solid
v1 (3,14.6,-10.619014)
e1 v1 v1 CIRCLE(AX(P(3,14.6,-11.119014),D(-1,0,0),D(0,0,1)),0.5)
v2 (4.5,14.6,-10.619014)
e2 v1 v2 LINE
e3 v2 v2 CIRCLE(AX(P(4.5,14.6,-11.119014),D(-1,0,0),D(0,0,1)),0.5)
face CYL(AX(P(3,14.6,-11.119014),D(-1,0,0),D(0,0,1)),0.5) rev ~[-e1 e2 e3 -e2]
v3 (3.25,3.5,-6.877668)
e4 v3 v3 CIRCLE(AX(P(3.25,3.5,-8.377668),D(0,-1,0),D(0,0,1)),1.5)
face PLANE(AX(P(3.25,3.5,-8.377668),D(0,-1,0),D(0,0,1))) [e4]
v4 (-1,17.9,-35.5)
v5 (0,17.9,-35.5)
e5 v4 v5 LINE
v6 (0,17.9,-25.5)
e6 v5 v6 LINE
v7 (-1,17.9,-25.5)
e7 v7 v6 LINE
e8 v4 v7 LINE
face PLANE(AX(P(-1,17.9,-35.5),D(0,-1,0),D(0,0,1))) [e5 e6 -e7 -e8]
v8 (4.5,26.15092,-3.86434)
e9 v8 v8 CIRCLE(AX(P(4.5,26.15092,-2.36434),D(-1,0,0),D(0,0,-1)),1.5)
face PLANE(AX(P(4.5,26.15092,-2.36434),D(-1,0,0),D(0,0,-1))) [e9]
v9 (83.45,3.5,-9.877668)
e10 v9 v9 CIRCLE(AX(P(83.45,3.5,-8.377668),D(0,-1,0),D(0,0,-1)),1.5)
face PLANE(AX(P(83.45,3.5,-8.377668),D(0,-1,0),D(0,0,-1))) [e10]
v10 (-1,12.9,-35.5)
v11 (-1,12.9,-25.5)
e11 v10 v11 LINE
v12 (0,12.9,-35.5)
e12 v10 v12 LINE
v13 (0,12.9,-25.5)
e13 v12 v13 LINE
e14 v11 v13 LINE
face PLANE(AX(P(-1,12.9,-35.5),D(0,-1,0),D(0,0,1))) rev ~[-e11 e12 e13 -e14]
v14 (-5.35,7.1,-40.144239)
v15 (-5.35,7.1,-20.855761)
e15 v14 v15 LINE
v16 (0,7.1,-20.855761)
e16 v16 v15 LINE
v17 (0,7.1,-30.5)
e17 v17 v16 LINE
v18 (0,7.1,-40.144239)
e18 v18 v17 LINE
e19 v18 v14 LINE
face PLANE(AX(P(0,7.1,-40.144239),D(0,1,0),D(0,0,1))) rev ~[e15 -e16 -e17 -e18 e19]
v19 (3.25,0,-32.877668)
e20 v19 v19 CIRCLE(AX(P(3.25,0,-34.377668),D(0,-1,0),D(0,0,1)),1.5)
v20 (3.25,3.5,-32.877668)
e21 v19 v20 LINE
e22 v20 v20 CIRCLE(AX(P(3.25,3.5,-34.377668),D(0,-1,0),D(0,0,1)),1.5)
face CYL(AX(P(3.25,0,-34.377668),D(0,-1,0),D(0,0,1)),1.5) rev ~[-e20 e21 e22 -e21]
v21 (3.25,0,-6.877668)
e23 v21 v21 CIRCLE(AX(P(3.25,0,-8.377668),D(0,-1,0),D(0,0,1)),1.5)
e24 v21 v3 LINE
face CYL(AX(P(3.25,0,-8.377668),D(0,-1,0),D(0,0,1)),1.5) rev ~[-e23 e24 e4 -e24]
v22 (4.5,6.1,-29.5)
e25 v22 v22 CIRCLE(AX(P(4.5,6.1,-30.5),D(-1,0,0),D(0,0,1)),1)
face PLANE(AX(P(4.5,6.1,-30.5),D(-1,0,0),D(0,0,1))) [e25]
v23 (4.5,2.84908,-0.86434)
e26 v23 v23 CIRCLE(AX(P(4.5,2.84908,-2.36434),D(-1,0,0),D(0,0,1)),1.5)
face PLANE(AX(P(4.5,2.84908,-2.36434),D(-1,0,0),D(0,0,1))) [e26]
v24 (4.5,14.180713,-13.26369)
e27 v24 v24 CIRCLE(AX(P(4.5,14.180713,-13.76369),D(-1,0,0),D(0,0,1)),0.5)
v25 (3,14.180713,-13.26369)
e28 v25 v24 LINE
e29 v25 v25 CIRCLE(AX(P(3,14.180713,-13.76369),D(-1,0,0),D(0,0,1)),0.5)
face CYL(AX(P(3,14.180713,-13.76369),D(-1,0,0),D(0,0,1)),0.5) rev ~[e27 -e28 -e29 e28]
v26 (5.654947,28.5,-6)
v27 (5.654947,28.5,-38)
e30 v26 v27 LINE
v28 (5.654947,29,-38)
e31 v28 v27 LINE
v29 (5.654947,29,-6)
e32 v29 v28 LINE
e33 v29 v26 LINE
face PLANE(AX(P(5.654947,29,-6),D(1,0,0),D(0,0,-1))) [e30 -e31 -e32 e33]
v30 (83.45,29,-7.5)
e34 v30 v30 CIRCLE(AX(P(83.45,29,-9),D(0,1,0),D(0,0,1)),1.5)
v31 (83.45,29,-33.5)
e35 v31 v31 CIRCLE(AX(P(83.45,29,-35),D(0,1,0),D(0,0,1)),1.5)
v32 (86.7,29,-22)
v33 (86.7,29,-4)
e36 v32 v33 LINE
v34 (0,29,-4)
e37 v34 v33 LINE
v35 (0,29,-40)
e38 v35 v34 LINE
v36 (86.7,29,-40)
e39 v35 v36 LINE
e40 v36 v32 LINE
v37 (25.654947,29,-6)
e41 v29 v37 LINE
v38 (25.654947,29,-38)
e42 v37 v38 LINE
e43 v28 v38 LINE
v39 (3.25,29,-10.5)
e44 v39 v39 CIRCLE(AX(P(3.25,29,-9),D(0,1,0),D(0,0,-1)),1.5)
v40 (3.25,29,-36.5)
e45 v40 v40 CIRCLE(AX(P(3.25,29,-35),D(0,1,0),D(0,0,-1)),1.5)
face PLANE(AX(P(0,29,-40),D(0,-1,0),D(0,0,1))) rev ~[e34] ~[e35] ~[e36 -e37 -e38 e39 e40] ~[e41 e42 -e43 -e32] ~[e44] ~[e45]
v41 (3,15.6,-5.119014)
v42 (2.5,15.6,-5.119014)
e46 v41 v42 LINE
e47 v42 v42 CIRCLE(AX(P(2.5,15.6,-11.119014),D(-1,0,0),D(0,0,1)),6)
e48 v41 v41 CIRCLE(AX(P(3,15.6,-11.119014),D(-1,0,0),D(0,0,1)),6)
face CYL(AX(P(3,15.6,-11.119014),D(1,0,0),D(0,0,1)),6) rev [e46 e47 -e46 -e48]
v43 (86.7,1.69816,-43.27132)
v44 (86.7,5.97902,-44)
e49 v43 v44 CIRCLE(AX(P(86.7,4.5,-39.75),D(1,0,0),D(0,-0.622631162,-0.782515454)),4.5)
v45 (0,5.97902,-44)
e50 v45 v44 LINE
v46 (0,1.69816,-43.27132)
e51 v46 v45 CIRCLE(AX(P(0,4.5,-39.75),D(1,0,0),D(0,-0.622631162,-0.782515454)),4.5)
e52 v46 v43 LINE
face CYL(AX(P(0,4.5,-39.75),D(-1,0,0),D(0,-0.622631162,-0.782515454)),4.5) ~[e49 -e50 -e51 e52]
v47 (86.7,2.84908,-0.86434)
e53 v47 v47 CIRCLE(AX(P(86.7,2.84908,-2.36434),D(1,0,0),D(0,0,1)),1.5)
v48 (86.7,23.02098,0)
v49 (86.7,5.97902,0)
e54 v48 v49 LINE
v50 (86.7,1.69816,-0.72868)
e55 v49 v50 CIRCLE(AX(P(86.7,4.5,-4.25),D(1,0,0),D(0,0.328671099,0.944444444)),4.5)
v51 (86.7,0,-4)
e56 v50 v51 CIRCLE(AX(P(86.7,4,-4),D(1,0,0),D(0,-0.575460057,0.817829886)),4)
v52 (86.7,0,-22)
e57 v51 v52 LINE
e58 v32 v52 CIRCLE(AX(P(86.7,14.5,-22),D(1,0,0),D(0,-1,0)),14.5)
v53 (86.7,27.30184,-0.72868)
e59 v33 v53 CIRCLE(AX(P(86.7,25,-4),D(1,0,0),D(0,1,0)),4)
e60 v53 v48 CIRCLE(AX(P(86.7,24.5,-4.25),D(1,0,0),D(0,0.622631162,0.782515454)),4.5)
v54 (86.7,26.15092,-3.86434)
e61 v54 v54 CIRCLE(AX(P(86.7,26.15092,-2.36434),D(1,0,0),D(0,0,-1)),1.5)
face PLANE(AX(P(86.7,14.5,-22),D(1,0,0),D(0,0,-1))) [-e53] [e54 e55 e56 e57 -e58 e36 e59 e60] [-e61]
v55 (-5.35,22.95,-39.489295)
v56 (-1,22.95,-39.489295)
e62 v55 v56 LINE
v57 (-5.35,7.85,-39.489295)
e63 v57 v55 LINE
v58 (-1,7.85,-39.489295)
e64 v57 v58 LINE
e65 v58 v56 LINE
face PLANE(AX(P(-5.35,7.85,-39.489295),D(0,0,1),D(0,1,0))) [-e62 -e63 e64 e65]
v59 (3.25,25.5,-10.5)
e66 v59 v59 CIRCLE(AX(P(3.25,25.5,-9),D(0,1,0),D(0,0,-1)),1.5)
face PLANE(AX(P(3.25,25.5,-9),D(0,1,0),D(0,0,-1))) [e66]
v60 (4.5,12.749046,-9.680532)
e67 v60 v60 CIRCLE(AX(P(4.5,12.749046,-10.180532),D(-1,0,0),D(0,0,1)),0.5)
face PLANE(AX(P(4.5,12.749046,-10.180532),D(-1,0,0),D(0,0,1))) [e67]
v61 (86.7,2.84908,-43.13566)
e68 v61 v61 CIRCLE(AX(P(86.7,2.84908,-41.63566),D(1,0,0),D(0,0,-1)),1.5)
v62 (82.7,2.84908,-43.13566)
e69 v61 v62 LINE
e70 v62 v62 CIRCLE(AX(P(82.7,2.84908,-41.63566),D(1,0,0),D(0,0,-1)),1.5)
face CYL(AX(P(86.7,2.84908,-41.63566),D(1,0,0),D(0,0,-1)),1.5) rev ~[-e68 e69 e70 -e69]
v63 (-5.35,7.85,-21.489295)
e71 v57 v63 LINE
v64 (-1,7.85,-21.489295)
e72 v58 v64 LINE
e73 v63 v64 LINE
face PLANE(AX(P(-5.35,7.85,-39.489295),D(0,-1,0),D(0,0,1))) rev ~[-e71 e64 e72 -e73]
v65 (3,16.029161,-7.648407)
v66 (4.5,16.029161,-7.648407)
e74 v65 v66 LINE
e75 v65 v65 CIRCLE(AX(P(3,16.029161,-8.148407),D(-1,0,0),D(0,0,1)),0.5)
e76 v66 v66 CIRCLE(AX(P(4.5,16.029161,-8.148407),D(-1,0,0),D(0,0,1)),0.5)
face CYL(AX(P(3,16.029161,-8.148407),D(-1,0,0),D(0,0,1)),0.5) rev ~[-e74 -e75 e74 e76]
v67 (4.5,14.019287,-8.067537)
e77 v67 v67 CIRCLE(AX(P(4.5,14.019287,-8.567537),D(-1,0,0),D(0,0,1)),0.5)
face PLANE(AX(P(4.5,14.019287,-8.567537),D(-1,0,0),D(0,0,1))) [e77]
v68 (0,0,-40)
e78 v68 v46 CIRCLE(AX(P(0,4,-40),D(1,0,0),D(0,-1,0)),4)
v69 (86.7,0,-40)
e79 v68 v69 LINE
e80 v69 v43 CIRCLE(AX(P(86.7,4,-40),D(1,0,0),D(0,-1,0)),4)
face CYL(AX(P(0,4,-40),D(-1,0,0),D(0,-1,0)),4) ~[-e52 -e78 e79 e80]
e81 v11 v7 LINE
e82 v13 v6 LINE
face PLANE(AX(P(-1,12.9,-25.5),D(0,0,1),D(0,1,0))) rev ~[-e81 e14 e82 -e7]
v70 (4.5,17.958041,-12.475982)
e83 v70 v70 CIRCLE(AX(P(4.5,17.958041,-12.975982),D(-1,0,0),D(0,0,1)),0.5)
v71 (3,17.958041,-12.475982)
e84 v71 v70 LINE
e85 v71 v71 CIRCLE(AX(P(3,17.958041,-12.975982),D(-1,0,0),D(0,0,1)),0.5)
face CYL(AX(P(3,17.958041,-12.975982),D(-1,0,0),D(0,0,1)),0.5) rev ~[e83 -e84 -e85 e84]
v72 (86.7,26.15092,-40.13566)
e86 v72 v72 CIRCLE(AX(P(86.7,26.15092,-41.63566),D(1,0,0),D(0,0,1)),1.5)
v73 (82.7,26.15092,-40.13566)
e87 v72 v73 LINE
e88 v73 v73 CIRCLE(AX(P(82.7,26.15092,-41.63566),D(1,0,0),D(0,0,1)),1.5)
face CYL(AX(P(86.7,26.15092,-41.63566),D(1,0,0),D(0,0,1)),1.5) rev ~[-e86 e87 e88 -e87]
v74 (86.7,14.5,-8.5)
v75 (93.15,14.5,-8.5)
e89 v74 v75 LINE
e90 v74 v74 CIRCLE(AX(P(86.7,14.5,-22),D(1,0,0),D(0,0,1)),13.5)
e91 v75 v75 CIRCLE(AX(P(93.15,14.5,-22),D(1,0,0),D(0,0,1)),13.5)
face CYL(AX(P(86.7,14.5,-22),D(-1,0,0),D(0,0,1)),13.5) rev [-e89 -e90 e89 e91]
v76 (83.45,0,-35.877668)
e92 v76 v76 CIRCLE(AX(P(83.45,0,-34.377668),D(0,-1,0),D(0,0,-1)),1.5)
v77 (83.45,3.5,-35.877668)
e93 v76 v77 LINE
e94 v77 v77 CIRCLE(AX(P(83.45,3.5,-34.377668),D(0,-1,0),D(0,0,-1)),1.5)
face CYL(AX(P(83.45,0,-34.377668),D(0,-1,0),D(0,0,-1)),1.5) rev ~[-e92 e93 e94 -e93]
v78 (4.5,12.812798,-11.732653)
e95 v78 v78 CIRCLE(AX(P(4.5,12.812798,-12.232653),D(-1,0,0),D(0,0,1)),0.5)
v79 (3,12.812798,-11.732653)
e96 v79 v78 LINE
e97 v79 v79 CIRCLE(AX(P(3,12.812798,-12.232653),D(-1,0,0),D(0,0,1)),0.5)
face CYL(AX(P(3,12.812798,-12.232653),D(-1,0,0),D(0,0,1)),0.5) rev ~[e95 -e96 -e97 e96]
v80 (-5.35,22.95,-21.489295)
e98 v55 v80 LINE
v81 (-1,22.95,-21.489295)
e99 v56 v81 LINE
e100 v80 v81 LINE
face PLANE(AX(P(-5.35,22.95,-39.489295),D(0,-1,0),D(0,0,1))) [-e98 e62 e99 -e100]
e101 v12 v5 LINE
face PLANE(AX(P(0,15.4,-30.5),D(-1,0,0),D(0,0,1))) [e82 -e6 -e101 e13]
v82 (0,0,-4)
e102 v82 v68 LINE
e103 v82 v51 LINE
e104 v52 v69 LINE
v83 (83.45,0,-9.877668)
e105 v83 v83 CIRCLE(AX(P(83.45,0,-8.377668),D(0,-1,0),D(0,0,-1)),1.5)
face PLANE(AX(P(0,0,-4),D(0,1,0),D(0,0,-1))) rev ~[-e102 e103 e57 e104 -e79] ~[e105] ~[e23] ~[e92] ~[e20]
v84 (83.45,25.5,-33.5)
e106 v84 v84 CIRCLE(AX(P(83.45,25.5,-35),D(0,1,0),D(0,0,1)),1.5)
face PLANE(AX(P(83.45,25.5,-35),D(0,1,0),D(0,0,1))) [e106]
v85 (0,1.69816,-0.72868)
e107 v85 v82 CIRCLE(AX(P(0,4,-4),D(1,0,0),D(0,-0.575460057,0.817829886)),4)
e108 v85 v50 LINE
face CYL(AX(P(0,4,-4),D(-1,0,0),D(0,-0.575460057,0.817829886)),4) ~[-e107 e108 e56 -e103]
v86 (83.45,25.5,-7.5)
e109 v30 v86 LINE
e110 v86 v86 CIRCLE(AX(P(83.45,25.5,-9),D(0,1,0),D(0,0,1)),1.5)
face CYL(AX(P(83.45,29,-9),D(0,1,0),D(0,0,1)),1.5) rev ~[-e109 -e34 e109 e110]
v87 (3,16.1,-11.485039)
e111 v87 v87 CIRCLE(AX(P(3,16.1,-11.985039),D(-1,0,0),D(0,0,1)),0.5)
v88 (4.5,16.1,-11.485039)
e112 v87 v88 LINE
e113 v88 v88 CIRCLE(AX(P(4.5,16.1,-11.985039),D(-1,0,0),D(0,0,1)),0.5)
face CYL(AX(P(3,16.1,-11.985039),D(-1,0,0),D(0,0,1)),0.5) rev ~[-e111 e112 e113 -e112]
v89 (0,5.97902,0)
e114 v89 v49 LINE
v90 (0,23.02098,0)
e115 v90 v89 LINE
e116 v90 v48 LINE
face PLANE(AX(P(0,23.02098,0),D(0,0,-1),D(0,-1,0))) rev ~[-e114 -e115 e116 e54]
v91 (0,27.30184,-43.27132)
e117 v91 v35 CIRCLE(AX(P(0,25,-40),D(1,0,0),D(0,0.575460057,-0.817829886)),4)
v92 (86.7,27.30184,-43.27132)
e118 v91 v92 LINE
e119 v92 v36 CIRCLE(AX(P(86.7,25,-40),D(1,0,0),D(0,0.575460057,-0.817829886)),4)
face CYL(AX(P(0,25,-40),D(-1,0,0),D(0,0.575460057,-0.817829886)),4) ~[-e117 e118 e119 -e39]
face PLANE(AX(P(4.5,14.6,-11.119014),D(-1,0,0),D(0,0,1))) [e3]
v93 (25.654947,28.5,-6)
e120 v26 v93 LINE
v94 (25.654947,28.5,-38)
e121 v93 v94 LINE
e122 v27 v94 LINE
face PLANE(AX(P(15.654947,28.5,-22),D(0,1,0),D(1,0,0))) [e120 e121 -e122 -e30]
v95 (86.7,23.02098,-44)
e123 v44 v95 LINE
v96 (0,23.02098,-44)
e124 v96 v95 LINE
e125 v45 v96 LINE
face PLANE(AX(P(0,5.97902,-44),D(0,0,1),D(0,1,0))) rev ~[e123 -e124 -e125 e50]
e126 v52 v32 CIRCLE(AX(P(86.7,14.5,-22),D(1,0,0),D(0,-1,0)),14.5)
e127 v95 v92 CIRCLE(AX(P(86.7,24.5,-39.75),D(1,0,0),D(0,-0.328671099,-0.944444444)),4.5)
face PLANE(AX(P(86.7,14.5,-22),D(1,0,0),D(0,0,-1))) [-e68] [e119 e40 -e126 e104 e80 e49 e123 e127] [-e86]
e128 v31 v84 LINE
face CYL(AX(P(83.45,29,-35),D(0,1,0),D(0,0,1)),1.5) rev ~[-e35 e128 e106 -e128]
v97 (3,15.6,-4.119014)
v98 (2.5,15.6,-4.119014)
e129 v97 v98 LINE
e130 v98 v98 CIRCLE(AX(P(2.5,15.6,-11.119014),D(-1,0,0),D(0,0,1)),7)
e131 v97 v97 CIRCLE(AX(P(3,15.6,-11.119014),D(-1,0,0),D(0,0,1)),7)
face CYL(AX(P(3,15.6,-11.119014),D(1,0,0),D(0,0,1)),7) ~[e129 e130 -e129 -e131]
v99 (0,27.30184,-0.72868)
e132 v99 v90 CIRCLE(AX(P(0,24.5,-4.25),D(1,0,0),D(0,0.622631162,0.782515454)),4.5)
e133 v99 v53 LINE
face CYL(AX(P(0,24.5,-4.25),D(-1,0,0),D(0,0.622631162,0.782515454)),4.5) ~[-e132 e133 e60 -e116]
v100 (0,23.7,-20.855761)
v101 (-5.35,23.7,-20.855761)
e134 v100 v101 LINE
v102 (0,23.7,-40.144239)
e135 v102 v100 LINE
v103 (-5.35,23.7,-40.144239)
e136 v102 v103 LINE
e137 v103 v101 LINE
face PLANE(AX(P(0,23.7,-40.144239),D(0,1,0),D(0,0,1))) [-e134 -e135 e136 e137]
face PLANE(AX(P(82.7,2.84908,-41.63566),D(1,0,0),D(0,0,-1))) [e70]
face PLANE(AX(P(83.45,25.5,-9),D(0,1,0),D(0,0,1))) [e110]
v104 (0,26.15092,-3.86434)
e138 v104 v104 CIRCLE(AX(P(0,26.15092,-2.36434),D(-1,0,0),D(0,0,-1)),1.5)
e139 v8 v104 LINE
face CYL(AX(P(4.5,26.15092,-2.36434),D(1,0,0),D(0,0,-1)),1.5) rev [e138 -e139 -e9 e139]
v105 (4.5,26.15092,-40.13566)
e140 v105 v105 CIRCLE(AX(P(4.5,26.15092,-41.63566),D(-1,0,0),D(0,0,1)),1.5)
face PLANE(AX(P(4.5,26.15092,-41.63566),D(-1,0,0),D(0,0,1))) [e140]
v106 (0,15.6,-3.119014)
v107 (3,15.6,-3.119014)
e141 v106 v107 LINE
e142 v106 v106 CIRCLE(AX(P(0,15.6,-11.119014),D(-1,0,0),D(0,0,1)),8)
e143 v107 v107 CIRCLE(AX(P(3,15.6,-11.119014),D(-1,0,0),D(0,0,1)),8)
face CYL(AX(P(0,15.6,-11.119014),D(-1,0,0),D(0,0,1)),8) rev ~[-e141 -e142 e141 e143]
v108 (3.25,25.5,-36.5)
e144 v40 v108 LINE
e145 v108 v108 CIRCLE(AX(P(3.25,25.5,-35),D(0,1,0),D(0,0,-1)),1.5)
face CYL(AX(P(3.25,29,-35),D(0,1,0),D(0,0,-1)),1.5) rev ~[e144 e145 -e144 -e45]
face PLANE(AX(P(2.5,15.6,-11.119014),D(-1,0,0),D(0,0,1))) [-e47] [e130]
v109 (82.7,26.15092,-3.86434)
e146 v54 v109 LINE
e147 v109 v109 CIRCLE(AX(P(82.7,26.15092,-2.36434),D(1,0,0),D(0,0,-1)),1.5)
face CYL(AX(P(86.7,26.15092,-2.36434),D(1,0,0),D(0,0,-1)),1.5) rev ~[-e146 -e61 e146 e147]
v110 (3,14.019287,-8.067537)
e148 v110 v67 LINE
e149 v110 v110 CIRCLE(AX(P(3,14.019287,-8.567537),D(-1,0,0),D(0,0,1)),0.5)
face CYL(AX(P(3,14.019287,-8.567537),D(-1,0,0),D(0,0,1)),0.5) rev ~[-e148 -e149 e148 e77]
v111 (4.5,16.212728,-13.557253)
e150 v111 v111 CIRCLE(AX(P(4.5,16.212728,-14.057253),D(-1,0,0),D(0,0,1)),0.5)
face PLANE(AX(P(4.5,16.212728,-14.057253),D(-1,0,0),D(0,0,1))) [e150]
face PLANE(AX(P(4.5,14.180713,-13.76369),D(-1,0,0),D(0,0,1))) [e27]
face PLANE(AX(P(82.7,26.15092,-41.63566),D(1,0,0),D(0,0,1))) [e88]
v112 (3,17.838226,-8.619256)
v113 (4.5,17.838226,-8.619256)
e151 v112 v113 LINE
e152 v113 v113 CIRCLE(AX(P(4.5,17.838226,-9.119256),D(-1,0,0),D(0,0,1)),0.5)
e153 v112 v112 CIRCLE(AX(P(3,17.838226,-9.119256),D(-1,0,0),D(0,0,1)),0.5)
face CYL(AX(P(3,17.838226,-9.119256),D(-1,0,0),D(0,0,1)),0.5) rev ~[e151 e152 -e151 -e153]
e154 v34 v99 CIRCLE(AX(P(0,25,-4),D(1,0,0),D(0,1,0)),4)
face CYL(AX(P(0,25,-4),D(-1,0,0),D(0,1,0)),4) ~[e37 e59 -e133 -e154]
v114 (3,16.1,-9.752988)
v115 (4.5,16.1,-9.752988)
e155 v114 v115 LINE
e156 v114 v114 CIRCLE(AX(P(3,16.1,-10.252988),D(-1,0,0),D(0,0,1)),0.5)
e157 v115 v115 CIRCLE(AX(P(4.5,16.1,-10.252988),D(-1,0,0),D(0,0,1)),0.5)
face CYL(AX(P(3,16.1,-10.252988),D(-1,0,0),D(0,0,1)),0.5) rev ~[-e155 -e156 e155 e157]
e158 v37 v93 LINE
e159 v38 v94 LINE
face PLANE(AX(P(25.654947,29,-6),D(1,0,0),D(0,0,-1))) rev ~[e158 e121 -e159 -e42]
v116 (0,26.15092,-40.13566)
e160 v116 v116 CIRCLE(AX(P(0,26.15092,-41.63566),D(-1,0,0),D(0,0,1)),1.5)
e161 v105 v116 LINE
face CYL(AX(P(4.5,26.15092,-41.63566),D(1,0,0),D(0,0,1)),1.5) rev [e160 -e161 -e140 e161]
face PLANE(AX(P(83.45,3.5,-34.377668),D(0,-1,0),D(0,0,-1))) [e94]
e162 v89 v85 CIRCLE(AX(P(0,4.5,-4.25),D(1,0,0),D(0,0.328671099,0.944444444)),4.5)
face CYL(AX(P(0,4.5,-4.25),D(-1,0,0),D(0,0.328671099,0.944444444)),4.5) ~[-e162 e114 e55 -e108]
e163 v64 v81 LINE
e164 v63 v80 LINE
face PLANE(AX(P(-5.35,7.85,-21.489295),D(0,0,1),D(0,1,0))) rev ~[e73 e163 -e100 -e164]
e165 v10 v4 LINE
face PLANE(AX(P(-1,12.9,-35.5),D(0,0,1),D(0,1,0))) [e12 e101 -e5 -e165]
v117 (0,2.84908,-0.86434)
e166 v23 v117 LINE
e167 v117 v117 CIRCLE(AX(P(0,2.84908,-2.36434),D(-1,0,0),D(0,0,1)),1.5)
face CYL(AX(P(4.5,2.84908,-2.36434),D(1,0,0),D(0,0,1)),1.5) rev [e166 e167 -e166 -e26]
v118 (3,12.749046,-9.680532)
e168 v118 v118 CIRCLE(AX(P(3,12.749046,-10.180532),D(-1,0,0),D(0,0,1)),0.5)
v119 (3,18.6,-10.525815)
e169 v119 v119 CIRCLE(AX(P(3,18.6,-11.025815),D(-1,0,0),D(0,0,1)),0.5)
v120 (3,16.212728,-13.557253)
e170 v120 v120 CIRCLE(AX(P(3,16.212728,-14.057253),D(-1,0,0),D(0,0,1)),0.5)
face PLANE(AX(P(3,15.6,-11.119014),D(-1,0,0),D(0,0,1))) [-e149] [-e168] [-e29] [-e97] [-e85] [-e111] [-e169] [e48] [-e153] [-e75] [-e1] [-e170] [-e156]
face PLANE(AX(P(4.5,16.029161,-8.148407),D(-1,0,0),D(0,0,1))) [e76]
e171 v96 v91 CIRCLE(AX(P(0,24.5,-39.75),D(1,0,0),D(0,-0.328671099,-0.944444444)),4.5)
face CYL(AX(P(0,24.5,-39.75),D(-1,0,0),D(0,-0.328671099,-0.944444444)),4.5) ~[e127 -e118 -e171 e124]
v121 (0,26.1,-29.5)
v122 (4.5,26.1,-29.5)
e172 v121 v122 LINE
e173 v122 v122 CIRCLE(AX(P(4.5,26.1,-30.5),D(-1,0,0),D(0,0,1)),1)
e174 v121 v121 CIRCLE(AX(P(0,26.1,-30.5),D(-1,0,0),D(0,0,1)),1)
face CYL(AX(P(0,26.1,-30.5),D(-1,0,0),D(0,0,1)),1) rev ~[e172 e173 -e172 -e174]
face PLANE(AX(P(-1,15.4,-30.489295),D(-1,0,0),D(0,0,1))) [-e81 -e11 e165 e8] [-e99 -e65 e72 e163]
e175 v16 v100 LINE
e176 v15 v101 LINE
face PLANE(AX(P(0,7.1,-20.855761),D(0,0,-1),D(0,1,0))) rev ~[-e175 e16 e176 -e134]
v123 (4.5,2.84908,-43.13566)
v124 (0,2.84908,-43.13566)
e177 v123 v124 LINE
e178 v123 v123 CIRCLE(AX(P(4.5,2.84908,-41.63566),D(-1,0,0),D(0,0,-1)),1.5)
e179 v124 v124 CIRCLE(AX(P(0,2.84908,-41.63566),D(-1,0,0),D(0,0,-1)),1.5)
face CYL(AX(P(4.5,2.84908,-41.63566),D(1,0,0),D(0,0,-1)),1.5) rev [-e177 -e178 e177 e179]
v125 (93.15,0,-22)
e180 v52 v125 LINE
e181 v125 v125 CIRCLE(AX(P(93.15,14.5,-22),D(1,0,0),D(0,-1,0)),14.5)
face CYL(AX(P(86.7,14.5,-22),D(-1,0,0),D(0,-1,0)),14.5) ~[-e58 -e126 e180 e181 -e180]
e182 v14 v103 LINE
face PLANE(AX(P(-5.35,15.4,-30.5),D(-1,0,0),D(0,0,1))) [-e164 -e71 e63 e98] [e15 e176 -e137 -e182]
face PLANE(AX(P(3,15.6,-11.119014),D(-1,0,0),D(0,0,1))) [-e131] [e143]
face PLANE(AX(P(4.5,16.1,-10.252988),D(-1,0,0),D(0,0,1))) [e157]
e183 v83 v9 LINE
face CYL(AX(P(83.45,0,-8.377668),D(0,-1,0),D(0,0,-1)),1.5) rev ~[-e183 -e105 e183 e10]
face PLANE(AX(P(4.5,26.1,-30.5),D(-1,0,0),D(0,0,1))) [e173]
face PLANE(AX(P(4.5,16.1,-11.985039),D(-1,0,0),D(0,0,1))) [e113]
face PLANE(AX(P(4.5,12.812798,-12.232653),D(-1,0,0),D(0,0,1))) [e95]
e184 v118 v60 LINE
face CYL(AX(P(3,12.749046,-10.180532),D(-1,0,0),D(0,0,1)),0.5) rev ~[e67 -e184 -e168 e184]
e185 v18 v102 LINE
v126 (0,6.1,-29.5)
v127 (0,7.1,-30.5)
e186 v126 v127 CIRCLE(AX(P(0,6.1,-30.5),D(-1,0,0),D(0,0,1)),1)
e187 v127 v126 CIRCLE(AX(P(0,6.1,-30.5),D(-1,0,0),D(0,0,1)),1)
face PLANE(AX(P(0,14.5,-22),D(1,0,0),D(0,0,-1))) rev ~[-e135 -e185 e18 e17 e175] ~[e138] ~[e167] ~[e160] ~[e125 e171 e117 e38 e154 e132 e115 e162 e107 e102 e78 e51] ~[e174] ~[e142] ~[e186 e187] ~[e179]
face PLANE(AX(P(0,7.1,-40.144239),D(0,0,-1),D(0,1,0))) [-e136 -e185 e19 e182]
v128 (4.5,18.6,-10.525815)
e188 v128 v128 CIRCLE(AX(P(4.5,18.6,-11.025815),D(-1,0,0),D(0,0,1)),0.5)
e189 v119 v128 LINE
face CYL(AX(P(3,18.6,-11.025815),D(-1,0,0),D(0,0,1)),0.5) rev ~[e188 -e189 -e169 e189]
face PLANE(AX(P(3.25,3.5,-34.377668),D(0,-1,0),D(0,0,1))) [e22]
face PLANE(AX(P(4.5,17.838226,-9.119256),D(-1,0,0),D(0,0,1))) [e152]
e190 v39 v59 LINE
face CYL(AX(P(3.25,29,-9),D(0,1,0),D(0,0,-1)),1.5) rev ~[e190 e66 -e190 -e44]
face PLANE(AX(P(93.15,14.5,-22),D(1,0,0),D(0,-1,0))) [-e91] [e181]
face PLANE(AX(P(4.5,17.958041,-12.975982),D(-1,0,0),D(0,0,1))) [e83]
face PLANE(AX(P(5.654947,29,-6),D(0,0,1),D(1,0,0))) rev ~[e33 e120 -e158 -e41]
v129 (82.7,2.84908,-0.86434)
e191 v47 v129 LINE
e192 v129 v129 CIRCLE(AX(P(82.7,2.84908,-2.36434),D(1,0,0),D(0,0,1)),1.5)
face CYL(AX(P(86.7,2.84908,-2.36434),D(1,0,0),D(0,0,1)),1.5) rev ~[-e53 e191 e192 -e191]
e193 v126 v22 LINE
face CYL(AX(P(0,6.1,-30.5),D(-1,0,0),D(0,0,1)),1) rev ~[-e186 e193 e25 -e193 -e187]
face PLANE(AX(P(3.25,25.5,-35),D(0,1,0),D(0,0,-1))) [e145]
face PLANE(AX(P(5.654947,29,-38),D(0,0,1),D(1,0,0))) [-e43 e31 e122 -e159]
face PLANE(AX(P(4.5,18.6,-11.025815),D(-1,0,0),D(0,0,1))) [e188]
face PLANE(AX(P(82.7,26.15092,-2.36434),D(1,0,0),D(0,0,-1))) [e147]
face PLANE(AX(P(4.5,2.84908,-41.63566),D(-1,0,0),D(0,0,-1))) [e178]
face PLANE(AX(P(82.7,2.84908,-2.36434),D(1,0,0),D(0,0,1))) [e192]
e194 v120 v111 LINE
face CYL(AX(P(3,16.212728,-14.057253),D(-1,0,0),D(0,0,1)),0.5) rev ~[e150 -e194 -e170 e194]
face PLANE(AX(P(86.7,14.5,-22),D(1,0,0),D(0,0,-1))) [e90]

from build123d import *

# Parameters (mm, degrees)
SALIENTE_EXTRUIR2_DEPTH = 86.7
CROQUIS4_R              = 1.5
CORTAR_EXTRUIR1_DEPTH   = 4
CROQUIS5_R              = 14.5
CROQUIS5_R_2            = 13.5
SALIENTE_EXTRUIR3_DEPTH = 6.45
CROQUIS6_R              = 1.5
CORTAR_EXTRUIR2_DEPTH   = 3.5
CROQUIS8_W              = 20
CROQUIS8_H              = 32
CORTAR_EXTRUIR3_DEPTH   = 0.5
CROQUIS10_R             = 1
CORTAR_EXTRUIR6_DEPTH   = 4.5
CORTAR_EXTRUIR7_START   = -4.5
CROQUIS11_R             = 1.5
CORTAR_EXTRUIR7_DEPTH   = 4.5
CROQUIS12_W             = 19.288477202
CROQUIS12_H             = 16.6
SALIENTE_EXTRUIR4_DEPTH = 5.35
CROQUIS13_W             = 18
CROQUIS13_H             = 15.1
CORTAR_EXTRUIR8_DEPTH   = 4.35
CROQUIS14_W             = 10
CROQUIS14_H             = 5
CORTAR_EXTRUIR9_DEPTH   = 1
CROQUIS15_R             = 8
CORTAR_EXTRUIR10_DEPTH  = 3
CROQUIS16_R             = 7
CROQUIS16_R_2           = 6
SALIENTE_EXTRUIR5_DEPTH = 0.5
CROQUIS17_R             = 0.5
CORTAR_EXTRUIR12_DEPTH  = 1.5
CROQUIS18_R             = 1.5
CORTAR_EXTRUIR13_DEPTH  = 3.5


with BuildPart() as part:
    # Croquis3 → Saliente-Extruir2 (new body)
    with BuildSketch(Plane(origin=(0, 0, 0), x_dir=(0, 0, -1), z_dir=(1, 0, 0))):
        with BuildLine():
            Line((4, 0), (40, 0))
            ThreePointArc((40, 0), (41.842910618, 0.449833743), (43.271319545, 1.698159773))
            ThreePointArc((43.271319545, 1.698159773), (44.186191252, 3.744879364), (44, 5.979019946))
            Line((44, 5.979019946), (44, 23.020980054))
            ThreePointArc((44, 23.020980054), (44.186191252, 25.255120636), (43.271319545, 27.301840227))
            ThreePointArc((43.271319545, 27.301840227), (41.842910618, 28.550166257), (40, 29))
            Line((40, 29), (4, 29))
            ThreePointArc((4, 29), (2.157089382, 28.550166257), (0.728680455, 27.301840227))
            ThreePointArc((0.728680455, 27.301840227), (-0.186191252, 25.255120636), (0, 23.020980054))
            Line((0, 23.020980054), (0, 5.979019946))
            ThreePointArc((0, 5.979019946), (-0.186191252, 3.744879364), (0.728680455, 1.698159773))
            ThreePointArc((0.728680455, 1.698159773), (2.157089382, 0.449833743), (4, 0))
        make_face()
    extrude(amount=SALIENTE_EXTRUIR2_DEPTH)

    # Croquis4 → Cortar-Extruir1 (cut)
    with BuildSketch(Plane(origin=(86.7, 0, 0), x_dir=(0, 0, -1), z_dir=(1, 0, 0))):
        with Locations((2.364340227, 26.150920114)):
            Circle(CROQUIS4_R)
        with Locations(Location((41.635659773, 26.150920114, 0), (0, 0, 180))):
            Circle(CROQUIS4_R)
        with Locations((41.635659773, 2.849079886)):
            Circle(CROQUIS4_R)
        with Locations(Location((2.364340227, 2.849079886, 0), (0, 0, 180))):
            Circle(CROQUIS4_R)
    extrude(amount=-CORTAR_EXTRUIR1_DEPTH, mode=Mode.SUBTRACT)

    # Croquis5 → Saliente-Extruir3 (add)
    with BuildSketch(Plane(origin=(86.7, 0, 0), x_dir=(0, 0, -1), z_dir=(1, 0, 0))):
        with Locations(Location((22, 14.5, 0), (0, 0, 270))):
            Circle(CROQUIS5_R)
        with Locations(Location((22, 14.5, 0), (0, 0, 180))):
            Circle(CROQUIS5_R_2, mode=Mode.SUBTRACT)
    extrude(amount=SALIENTE_EXTRUIR3_DEPTH)

    # Croquis6 → Cortar-Extruir2 (cut)
    with BuildSketch(Plane(origin=(0, 29, 0), x_dir=(1, 0, 0), z_dir=(0, 1, 0))):
        with Locations(Location((83.45, 35, 0), (0, 0, 270))):
            Circle(CROQUIS6_R)
        with Locations(Location((83.45, 9, 0), (0, 0, 270))):
            Circle(CROQUIS6_R)
        with Locations(Location((3.25, 9, 0), (0, 0, 90))):
            Circle(CROQUIS6_R)
        with Locations(Location((3.25, 35, 0), (0, 0, 90))):
            Circle(CROQUIS6_R)
    extrude(amount=-CORTAR_EXTRUIR2_DEPTH, mode=Mode.SUBTRACT)

    # Croquis8 → Cortar-Extruir3 (cut)
    with BuildSketch(Plane(origin=(0, 29, 0), x_dir=(1, 0, 0), z_dir=(0, 1, 0))):
        with Locations((15.654947335, 22)):
            Rectangle(CROQUIS8_W, CROQUIS8_H)
    extrude(amount=-CORTAR_EXTRUIR3_DEPTH, mode=Mode.SUBTRACT)

    # Croquis10 → Cortar-Extruir6 (cut)
    with BuildSketch(Plane.ZY):
        with Locations((-30.5, 6.1)):
            Circle(CROQUIS10_R)
        with Locations((-30.5, 26.1)):
            Circle(CROQUIS10_R)
    extrude(amount=-CORTAR_EXTRUIR6_DEPTH, mode=Mode.SUBTRACT)

    # Croquis11 → Cortar-Extruir7 (cut)
    with BuildSketch(Plane.ZY.offset(CORTAR_EXTRUIR7_START)):
        with Locations((-41.635659773, 26.150920114)):
            Circle(CROQUIS11_R)
        with Locations(Location((-41.635659773, 2.849079886, 0), (0, 0, 180))):
            Circle(CROQUIS11_R)
        with Locations((-2.364340227, 2.849079886)):
            Circle(CROQUIS11_R)
        with Locations(Location((-2.364340227, 26.150920114, 0), (0, 0, 180))):
            Circle(CROQUIS11_R)
    extrude(amount=CORTAR_EXTRUIR7_DEPTH, mode=Mode.SUBTRACT)

    # Croquis12 → Saliente-Extruir4 (add)
    with BuildSketch(Plane.ZY):
        with Locations((-30.5, 15.4)):
            Rectangle(CROQUIS12_W, CROQUIS12_H)
    extrude(amount=SALIENTE_EXTRUIR4_DEPTH)

    # Croquis13 → Cortar-Extruir8 (cut)
    with BuildSketch(Plane.ZY.offset(5.35)):
        with Locations((-30.489294878, 15.4)):
            Rectangle(CROQUIS13_W, CROQUIS13_H)
    extrude(amount=-CORTAR_EXTRUIR8_DEPTH, mode=Mode.SUBTRACT)

    # Croquis14 → Cortar-Extruir9 (cut)
    with BuildSketch(Plane.ZY.offset(1)):
        with Locations((-30.5, 15.4)):
            Rectangle(CROQUIS14_W, CROQUIS14_H)
    extrude(amount=-CORTAR_EXTRUIR9_DEPTH, mode=Mode.SUBTRACT)

    # Croquis15 → Cortar-Extruir10 (cut)
    with BuildSketch(Plane.ZY):
        with Locations((-11.119013901, 15.6)):
            Circle(CROQUIS15_R)
    extrude(amount=-CORTAR_EXTRUIR10_DEPTH, mode=Mode.SUBTRACT)

    # Croquis16 → Saliente-Extruir5 (add)
    with BuildSketch(Plane.ZY.offset(-3)):
        with Locations((-11.119013901, 15.6)):
            Circle(CROQUIS16_R)
        with Locations((-11.119013901, 15.6)):
            Circle(CROQUIS16_R_2, mode=Mode.SUBTRACT)
    extrude(amount=SALIENTE_EXTRUIR5_DEPTH)

    # Croquis17 → Cortar-Extruir12 (cut)
    with BuildSketch(Plane.ZY.offset(-3)):
        with Locations((-11.025814876, 18.6)):
            Circle(CROQUIS17_R)
        with Locations((-9.119256477, 17.838226151)):
            Circle(CROQUIS17_R)
        with Locations((-8.148406801, 16.029161411)):
            Circle(CROQUIS17_R)
        with Locations((-8.567537202, 14.019287277)):
            Circle(CROQUIS17_R)
        with Locations((-10.180531906, 12.749046194)):
            Circle(CROQUIS17_R)
        with Locations((-12.232652766, 12.812798081)):
            Circle(CROQUIS17_R)
        with Locations((-13.763689624, 14.180712723)):
            Circle(CROQUIS17_R)
        with Locations((-14.057253319, 16.212727655)):
            Circle(CROQUIS17_R)
        with Locations((-12.975982135, 17.958040507)):
            Circle(CROQUIS17_R)
        with Locations((-11.985039305, 16.1)):
            Circle(CROQUIS17_R)
        with Locations((-10.252988497, 16.1)):
            Circle(CROQUIS17_R)
        with Locations((-11.119013901, 14.6)):
            Circle(CROQUIS17_R)
    extrude(amount=-CORTAR_EXTRUIR12_DEPTH, mode=Mode.SUBTRACT)

    # Croquis18 → Cortar-Extruir13 (cut)
    with BuildSketch(Plane.XZ):
        with Locations(Location((83.45, -8.377668185, 0), (0, 0, 270))):
            Circle(CROQUIS18_R)
        with Locations(Location((83.45, -34.377668185, 0), (0, 0, 270))):
            Circle(CROQUIS18_R)
        with Locations(Location((3.25, -34.377668185, 0), (0, 0, 90))):
            Circle(CROQUIS18_R)
        with Locations(Location((3.25, -8.377668185, 0), (0, 0, 90))):
            Circle(CROQUIS18_R)
    extrude(amount=-CORTAR_EXTRUIR13_DEPTH, mode=Mode.SUBTRACT)


solid = part.part
